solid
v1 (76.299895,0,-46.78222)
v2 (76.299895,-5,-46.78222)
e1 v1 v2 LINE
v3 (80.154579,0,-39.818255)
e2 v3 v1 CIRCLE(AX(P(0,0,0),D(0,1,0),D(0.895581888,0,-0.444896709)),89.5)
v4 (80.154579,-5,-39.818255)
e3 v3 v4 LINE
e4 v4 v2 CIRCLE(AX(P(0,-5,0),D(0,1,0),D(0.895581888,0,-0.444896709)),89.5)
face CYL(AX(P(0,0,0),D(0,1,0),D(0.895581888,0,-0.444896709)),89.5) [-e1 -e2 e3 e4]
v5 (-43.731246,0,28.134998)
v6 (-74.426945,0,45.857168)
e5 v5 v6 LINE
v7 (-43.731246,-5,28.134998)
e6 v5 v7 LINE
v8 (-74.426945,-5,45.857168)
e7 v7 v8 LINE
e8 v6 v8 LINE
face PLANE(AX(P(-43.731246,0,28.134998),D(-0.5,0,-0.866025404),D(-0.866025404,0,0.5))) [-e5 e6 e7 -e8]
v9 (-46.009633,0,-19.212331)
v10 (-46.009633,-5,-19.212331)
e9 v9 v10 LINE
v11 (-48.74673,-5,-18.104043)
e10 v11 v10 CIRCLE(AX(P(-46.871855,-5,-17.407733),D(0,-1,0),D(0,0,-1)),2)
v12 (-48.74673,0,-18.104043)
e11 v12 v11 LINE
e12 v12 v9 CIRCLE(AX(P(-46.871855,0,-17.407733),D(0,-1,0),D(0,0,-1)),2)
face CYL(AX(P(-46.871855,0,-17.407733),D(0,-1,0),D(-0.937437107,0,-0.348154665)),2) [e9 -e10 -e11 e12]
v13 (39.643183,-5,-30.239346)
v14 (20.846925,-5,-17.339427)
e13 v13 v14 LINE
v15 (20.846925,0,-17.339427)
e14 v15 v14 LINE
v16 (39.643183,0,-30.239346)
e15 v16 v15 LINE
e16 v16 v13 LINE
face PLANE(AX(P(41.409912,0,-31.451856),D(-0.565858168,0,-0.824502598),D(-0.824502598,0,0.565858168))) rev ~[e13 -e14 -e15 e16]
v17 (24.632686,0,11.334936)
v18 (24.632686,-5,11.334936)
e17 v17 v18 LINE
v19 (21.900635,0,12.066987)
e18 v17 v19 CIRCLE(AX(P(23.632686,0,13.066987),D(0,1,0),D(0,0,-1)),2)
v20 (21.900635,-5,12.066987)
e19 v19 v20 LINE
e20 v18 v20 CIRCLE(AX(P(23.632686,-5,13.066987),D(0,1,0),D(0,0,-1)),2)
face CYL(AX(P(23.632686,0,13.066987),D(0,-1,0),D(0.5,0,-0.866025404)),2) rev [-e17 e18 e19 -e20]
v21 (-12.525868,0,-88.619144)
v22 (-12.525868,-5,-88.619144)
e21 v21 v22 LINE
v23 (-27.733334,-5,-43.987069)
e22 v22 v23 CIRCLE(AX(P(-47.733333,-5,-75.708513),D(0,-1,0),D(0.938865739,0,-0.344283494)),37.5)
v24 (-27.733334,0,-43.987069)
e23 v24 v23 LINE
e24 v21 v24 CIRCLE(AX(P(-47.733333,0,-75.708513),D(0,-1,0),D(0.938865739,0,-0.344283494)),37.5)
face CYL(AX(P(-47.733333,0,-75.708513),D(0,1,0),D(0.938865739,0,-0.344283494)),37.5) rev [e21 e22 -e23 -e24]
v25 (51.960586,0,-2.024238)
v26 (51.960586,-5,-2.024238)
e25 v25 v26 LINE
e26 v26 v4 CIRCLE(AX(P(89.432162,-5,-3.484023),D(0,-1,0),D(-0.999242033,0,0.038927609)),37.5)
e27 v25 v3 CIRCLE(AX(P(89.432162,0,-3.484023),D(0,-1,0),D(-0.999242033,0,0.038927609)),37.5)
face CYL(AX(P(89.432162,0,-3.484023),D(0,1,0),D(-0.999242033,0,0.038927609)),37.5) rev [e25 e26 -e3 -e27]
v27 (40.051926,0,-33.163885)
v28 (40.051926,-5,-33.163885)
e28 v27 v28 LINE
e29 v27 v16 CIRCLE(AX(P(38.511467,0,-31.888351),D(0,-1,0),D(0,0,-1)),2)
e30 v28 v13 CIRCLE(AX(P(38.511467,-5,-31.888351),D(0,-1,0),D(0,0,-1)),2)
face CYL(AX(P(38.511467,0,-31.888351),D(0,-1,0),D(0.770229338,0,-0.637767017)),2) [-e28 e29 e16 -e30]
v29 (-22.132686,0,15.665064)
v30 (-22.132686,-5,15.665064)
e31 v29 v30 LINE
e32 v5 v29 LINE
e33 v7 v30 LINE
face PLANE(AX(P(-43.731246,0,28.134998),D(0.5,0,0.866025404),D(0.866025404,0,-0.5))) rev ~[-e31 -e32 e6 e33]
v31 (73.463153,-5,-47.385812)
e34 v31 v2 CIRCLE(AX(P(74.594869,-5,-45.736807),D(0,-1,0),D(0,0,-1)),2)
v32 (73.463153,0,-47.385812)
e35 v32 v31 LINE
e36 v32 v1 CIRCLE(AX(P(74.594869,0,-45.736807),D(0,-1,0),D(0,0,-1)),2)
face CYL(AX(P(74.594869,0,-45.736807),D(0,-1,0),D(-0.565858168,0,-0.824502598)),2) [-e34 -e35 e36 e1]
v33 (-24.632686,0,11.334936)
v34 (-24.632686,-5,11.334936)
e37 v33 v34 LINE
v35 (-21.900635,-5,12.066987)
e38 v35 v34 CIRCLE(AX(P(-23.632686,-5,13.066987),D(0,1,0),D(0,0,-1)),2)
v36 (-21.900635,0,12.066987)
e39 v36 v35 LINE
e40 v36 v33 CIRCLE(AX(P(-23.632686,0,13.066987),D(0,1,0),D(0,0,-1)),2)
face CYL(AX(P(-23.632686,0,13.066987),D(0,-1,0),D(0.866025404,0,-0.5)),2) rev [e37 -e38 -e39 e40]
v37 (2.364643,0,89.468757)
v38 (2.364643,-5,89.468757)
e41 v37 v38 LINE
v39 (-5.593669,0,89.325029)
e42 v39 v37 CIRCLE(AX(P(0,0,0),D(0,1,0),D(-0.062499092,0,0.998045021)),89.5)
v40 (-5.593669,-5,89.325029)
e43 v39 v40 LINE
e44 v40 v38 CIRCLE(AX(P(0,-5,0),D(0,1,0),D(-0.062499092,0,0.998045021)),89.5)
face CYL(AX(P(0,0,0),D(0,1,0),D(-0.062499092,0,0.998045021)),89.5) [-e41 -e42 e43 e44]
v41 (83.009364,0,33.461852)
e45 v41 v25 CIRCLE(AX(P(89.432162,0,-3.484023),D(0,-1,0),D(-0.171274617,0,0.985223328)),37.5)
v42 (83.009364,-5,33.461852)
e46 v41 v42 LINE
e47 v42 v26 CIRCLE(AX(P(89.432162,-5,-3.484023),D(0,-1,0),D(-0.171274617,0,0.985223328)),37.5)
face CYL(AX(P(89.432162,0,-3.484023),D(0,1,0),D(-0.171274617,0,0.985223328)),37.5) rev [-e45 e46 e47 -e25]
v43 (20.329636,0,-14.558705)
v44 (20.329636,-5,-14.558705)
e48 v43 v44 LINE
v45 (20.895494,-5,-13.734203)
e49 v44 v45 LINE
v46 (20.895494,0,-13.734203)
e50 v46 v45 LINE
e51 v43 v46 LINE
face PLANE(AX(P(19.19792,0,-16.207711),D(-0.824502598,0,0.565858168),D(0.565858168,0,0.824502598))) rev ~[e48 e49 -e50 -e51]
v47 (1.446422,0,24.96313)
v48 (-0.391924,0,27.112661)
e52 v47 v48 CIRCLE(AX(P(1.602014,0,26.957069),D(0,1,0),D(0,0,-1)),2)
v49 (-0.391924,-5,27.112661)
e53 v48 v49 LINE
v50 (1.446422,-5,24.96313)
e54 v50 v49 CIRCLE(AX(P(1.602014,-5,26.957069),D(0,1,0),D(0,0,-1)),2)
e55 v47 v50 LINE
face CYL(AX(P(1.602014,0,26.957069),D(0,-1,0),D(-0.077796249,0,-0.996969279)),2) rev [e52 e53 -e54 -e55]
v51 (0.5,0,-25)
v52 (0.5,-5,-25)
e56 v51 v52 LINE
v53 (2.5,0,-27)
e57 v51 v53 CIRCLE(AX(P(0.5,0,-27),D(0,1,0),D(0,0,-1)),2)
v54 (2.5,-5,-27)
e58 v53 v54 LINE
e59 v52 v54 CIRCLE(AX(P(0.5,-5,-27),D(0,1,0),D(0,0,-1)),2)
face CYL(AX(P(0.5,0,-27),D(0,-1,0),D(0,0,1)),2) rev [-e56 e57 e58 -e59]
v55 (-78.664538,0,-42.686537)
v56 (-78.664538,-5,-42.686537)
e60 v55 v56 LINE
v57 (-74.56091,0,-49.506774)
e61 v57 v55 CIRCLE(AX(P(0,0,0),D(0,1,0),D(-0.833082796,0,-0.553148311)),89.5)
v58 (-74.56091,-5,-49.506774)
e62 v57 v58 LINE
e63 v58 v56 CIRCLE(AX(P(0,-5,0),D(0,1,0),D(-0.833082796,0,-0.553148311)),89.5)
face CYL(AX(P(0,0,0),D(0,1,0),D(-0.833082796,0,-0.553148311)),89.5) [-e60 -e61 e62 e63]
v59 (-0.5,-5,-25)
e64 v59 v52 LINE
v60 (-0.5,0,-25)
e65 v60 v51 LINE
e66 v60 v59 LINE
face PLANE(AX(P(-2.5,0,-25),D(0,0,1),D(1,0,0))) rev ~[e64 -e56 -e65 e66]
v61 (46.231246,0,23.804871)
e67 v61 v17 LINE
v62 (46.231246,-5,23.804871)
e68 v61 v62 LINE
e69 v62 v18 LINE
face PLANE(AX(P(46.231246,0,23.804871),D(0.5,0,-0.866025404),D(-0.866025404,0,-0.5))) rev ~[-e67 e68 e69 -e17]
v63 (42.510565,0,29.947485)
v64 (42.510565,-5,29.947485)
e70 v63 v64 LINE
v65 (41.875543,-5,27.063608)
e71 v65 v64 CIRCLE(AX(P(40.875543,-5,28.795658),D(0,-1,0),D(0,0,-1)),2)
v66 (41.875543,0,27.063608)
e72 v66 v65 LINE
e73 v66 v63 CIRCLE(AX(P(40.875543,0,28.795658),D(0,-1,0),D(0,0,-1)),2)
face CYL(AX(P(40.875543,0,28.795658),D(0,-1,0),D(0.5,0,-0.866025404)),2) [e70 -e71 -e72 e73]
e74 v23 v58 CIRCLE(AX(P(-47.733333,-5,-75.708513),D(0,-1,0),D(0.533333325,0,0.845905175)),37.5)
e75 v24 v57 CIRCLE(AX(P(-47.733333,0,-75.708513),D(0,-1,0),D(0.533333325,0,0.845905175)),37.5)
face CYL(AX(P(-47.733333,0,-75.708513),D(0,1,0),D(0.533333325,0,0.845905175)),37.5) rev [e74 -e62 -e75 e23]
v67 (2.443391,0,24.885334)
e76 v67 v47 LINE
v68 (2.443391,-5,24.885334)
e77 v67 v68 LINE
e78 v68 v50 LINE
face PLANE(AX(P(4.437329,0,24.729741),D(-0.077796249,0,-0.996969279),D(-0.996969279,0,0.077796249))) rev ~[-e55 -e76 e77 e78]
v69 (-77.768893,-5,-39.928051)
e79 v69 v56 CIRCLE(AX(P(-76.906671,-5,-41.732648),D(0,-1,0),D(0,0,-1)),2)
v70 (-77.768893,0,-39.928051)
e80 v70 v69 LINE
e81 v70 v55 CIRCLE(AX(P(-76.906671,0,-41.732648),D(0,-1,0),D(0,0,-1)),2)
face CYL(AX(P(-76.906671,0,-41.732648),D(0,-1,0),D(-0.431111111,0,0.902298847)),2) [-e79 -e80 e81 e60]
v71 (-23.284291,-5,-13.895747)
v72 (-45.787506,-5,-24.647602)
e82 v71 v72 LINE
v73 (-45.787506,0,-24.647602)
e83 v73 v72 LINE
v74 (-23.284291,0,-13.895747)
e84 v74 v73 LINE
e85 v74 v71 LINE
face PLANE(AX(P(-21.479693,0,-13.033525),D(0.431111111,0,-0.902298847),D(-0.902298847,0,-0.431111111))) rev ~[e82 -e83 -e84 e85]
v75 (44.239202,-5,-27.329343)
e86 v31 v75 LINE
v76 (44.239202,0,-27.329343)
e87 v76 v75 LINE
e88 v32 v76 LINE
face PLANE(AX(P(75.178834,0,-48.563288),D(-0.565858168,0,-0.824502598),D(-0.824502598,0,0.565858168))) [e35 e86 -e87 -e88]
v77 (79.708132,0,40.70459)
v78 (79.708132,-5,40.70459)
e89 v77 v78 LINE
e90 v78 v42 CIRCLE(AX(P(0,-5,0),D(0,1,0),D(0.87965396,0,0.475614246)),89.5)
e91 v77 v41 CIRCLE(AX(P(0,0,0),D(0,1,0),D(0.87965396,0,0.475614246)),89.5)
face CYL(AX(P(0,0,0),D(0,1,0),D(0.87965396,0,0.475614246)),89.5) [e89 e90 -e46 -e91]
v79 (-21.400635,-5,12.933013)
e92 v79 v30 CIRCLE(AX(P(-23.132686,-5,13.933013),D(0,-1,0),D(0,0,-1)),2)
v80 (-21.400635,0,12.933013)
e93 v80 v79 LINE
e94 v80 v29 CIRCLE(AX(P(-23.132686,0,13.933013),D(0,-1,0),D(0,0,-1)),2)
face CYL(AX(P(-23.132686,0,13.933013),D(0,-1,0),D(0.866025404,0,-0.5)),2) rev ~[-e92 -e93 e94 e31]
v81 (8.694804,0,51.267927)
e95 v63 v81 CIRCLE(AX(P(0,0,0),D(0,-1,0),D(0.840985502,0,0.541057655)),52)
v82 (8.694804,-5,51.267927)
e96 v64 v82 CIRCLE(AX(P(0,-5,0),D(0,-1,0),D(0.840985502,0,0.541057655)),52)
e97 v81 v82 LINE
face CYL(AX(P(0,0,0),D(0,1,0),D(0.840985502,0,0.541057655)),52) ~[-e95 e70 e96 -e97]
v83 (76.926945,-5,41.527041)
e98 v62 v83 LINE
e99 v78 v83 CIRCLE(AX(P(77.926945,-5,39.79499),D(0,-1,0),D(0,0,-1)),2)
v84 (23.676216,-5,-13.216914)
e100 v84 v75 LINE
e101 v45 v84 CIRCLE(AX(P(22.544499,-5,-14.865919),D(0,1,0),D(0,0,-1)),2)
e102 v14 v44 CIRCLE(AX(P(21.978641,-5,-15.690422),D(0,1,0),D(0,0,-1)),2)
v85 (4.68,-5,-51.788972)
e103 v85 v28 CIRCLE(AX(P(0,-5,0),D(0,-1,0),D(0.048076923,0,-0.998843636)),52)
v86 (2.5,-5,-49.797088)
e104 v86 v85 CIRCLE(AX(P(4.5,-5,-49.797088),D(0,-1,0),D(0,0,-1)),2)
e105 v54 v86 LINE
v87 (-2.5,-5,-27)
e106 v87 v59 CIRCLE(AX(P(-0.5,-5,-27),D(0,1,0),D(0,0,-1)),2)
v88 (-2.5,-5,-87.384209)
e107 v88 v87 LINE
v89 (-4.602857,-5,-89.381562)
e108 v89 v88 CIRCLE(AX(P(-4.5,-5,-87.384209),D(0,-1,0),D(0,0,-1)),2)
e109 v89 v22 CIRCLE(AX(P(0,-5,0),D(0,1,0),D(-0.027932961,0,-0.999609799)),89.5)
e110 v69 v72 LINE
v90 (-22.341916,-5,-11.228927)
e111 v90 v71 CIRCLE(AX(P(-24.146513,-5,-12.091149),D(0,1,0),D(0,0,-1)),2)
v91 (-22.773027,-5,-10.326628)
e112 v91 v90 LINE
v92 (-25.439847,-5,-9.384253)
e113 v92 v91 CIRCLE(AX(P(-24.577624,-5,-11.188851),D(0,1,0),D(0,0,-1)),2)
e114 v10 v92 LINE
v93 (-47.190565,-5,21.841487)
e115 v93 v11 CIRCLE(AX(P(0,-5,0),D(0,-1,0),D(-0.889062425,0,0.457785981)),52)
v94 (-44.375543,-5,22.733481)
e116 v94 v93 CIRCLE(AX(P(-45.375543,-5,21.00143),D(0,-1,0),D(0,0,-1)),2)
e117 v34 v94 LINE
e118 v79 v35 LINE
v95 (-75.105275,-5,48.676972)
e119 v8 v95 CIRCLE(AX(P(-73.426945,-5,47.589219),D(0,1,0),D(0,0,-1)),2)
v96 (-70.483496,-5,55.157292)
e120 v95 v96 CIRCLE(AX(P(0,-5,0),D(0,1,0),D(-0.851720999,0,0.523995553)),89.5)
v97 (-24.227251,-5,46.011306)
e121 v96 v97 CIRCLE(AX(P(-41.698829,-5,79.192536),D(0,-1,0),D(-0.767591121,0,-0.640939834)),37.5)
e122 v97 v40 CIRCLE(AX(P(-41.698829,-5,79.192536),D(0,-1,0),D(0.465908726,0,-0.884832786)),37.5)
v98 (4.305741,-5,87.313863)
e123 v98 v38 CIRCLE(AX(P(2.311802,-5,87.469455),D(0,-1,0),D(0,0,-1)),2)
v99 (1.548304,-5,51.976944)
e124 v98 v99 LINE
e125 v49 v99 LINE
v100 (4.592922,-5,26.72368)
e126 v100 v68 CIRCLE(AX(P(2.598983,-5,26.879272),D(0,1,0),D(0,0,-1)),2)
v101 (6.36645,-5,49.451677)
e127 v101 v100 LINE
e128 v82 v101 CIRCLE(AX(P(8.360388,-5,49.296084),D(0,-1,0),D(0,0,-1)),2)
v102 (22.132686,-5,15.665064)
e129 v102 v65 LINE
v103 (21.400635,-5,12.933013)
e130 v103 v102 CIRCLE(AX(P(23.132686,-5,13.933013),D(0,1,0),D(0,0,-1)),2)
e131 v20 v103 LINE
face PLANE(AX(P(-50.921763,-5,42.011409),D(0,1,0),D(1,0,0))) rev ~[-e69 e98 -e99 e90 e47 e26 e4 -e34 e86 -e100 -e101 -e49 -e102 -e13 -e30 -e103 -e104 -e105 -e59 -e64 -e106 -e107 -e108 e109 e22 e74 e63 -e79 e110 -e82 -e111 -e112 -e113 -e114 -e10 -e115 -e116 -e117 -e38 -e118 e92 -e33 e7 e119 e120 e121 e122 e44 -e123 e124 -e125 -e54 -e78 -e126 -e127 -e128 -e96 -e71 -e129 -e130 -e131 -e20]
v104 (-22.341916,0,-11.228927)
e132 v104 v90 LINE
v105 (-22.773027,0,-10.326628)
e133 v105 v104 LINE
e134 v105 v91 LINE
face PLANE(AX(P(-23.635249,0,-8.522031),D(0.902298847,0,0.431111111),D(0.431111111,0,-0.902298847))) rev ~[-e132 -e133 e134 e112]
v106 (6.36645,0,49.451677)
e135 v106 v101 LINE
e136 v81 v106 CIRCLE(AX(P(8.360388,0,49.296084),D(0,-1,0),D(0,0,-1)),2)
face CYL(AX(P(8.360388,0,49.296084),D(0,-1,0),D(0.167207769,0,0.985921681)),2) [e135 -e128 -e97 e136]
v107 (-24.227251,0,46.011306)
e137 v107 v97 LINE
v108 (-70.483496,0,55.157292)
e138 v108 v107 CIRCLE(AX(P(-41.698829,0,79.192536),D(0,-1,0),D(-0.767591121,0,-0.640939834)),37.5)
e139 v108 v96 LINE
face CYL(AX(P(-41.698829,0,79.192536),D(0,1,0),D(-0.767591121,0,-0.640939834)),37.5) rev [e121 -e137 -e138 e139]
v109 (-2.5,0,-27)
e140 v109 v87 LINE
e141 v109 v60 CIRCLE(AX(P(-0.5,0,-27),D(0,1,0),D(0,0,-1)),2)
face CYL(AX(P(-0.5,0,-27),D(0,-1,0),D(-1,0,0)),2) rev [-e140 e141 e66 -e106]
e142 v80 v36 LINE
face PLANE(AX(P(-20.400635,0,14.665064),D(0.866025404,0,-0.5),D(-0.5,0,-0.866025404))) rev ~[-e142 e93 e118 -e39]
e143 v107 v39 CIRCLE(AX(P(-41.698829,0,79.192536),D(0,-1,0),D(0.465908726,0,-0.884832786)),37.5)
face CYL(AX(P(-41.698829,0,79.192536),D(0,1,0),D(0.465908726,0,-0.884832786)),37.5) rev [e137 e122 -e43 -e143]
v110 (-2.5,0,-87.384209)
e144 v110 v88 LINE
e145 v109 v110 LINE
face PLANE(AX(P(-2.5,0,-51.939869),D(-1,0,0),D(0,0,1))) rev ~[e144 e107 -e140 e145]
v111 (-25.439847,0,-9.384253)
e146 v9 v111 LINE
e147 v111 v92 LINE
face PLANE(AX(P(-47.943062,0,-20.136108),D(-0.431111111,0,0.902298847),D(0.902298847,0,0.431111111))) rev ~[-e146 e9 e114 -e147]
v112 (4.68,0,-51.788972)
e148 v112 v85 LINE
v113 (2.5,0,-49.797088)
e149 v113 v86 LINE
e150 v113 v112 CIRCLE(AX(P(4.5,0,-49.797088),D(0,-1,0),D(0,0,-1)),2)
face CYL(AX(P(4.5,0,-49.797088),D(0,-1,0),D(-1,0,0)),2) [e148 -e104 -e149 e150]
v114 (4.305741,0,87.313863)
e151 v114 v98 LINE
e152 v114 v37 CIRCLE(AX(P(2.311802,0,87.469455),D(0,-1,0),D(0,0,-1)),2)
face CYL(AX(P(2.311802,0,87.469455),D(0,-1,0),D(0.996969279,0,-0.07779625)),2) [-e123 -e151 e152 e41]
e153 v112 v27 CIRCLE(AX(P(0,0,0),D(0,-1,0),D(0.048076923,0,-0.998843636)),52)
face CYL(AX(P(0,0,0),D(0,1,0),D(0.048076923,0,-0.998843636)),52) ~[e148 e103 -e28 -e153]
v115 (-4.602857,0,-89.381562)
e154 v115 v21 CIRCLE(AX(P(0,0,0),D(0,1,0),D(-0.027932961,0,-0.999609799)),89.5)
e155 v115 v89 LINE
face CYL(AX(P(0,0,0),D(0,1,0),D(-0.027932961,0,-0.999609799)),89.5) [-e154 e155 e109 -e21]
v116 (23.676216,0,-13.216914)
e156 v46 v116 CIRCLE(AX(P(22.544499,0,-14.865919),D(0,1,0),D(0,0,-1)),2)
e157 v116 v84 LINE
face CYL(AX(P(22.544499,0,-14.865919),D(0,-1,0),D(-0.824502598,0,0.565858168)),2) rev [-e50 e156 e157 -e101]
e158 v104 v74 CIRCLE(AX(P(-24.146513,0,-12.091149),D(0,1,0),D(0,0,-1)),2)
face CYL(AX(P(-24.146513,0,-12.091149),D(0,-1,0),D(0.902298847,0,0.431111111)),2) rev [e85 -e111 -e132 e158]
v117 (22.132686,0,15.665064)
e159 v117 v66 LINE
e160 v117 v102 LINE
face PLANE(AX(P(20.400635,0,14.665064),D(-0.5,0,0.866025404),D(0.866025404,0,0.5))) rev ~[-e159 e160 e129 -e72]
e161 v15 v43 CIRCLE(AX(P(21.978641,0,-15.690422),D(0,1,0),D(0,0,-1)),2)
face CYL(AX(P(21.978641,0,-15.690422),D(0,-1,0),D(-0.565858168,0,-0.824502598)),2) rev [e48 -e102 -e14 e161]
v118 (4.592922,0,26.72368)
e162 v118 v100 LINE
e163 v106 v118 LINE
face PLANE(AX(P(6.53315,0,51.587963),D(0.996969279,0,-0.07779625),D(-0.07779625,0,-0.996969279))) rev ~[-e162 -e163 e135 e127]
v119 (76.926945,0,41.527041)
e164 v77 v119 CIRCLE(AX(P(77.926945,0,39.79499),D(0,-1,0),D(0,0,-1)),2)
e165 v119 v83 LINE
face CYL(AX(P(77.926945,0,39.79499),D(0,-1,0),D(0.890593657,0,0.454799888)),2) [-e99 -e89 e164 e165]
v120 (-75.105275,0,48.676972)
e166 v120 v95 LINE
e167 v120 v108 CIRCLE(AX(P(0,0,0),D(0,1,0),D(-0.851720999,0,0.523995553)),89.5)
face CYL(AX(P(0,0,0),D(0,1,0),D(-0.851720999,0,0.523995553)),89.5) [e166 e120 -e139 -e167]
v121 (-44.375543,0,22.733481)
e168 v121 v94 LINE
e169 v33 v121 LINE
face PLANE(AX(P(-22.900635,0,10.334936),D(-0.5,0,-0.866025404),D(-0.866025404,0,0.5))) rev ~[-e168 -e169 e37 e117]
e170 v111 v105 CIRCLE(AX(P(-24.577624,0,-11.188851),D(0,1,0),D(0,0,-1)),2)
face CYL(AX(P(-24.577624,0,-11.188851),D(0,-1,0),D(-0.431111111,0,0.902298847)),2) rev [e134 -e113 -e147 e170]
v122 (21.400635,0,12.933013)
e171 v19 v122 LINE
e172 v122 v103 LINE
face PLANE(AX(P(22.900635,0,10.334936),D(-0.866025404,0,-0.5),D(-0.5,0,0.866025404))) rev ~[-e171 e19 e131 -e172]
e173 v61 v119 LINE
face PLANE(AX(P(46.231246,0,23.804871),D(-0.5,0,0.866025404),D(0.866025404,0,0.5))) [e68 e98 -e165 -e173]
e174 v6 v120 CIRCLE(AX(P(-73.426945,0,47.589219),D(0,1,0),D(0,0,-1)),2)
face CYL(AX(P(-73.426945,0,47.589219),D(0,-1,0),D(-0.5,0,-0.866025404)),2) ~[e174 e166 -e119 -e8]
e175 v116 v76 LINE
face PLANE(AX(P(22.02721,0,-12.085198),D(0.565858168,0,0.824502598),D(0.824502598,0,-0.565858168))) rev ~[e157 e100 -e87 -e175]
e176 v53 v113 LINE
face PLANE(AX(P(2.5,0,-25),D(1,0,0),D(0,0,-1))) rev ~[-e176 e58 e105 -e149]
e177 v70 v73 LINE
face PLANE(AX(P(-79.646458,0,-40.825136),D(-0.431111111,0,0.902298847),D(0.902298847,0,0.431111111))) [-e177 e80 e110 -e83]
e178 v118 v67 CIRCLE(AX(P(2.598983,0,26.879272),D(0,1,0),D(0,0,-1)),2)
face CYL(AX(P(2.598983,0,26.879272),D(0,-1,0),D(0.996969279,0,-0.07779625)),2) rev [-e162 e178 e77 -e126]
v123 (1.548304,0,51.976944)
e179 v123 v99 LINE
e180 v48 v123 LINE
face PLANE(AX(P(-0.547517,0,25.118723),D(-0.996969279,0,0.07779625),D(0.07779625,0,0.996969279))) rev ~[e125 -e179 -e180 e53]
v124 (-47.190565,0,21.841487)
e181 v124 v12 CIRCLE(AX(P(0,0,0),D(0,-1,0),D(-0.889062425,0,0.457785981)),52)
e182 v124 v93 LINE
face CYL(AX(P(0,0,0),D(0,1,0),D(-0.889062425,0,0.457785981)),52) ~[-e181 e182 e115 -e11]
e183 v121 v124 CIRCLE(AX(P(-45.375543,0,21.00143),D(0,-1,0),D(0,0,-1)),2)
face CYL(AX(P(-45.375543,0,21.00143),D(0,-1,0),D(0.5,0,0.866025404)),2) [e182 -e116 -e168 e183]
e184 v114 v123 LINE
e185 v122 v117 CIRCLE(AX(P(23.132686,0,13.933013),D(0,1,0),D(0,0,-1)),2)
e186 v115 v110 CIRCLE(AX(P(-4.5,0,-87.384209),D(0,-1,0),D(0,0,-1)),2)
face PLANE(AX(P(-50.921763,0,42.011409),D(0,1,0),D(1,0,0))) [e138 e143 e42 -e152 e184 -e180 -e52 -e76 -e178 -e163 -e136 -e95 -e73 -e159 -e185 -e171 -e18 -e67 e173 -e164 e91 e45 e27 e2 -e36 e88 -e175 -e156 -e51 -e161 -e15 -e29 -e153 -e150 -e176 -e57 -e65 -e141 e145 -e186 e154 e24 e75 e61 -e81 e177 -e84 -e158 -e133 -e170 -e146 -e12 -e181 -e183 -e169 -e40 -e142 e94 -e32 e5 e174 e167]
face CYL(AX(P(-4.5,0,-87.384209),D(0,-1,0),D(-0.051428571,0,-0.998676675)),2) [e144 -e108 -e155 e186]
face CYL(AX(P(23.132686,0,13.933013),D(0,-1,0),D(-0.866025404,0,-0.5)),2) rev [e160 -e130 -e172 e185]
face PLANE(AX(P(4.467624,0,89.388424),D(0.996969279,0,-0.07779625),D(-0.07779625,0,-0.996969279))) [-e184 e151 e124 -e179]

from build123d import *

# Parameters (mm, degrees)
EXTRUDE_1_DEPTH = 5
EXTRUDE_2_DEPTH = 5
FILLET_1_R      = 2


with BuildPart() as part:
    # 草圖1 → 填料-伸長1 (new body)
    with BuildSketch(Plane(origin=(0, 0, 0), x_dir=(1, 0, 0), z_dir=(0, 1, 0))):
        with BuildLine():
            Line((46.231246092, -23.80487103), (22.900635095, -10.334936491))
            Line((22.900635095, -10.334936491), (20.400635095, -14.665063509))
            Line((20.400635095, -14.665063509), (43.731246092, -28.134998049))
            ThreePointArc((43.731246092, -28.134998049), (27.733333333, -43.987068807), (6.533150216, -51.587963211))
            Line((6.533150216, -51.587963211), (4.437329437, -24.729741355))
            Line((4.437329437, -24.729741355), (-0.547516958, -25.118722602))
            Line((-0.547516958, -25.118722602), (1.54830382, -51.976944459))
            ThreePointArc((1.54830382, -51.976944459), (-24.227252358, -46.011305602), (-43.731246092, -28.134998049))
            Line((-43.731246092, -28.134998049), (-20.400635095, -14.665063509))
            Line((-20.400635095, -14.665063509), (-22.900635095, -10.334936491))
            Line((-22.900635095, -10.334936491), (-46.231246092, -23.80487103))
            ThreePointArc((-46.231246092, -23.80487103), (-51.960585691, -2.024236795), (-47.943061778, 20.136107552))
            Line((-47.943061778, 20.136107552), (-23.635248961, 8.522030659))
            Line((-23.635248961, 8.522030659), (-21.479693405, 13.033524896))
            Line((-21.479693405, 13.033524896), (-45.787506223, 24.647601788))
            ThreePointArc((-45.787506223, 24.647601788), (-27.733333333, 43.987068807), (-2.5, 51.93986908))
            Line((-2.5, 51.93986908), (-2.5, 25))
            Line((-2.5, 25), (2.5, 25))
            Line((2.5, 25), (2.5, 51.93986908))
            ThreePointArc((2.5, 51.93986908), (24.227252358, 46.011305602), (41.409911562, 31.451855659))
            Line((41.409911562, 31.451855659), (19.197919523, 16.207710695))
            Line((19.197919523, 16.207710695), (22.027210363, 12.085197706))
            Line((22.027210363, 12.085197706), (44.239202402, 27.329342671))
            ThreePointArc((44.239202402, 27.329342671), (51.960585691, 2.024236795), (46.231246092, -23.80487103))
        make_face()
    extrude(amount=-EXTRUDE_1_DEPTH)

    # 草圖2 → 填料-伸長2 (add)
    with BuildSketch(Plane(origin=(0, 0, 0), x_dir=(1, 0, 0), z_dir=(0, 1, 0))):
        with BuildLine():
            ThreePointArc((-24.227251363, -46.011306126), (-35.135166738, -38.334319588), (-43.731246092, -28.134998049))
            Line((-43.731246092, -28.134998049), (-76.229029421, -46.897602002))
            ThreePointArc((-76.229029421, -46.897602002), (-73.47242252, -51.10824913), (-70.483495632, -55.157291843))
            ThreePointArc((-70.483495632, -55.157291843), (-48.972669662, -42.404749099), (-24.227251363, -46.011306126))
        make_face()
        with BuildLine():
            ThreePointArc((1.54830382, -51.976944459), (-11.725223904, -50.660824356), (-24.227251363, -46.011306126))
            ThreePointArc((-24.227251363, -46.011306126), (-7.251240205, -64.373168028), (-5.593668694, -89.325029362))
            ThreePointArc((-5.593668694, -89.325029362), (-0.563913765, -89.498223453), (4.46762426, -89.388423934))
            Line((4.46762426, -89.388423934), (1.54830382, -51.976944459))
        make_face()
        with BuildLine():
            ThreePointArc((51.96058566, 2.024237611), (50.766077936, -11.260787317), (46.231246092, -23.80487103))
            Line((46.231246092, -23.80487103), (78.729029421, -42.567474983))
            ThreePointArc((78.729029421, -42.567474983), (80.997253349, -38.074859815), (83.009363756, -33.461851843))
            ThreePointArc((83.009363756, -33.461851843), (61.209924893, -21.209201585), (51.96058566, 2.024237611))
        make_face()
        with BuildLine():
            ThreePointArc((44.239202402, 27.329342671), (49.736172865, 15.176070265), (51.96058566, 2.024237611))
            ThreePointArc((51.96058566, 2.024237611), (59.374418845, 25.906825664), (80.154578969, 39.818255491))
            ThreePointArc((80.154578969, 39.818255491), (77.789691987, 44.26074808), (75.178833801, 48.563288071))
            Line((75.178833801, 48.563288071), (44.239202402, 27.329342671))
        make_face()
        with BuildLine():
            ThreePointArc((-27.733333643, 43.987068612), (-15.63091087, 49.595106869), (-2.5, 51.93986908))
            Line((-2.5, 51.93986908), (-2.5, 89.465076985))
            ThreePointArc((-2.5, 89.465076985), (-7.524830829, 89.183108944), (-12.525868124, 88.619143687))
            ThreePointArc((-12.525868124, 88.619143687), (-12.237255007, 63.613950927), (-27.733333643, 43.987068612))
        make_face()
        with BuildLine():
            ThreePointArc((-45.787506223, 24.647601788), (-38.010948658, 35.484754221), (-27.733333643, 43.987068612))
            ThreePointArc((-27.733333643, 43.987068612), (-52.123178355, 38.466342196), (-74.560910274, 49.506773871))
            ThreePointArc((-74.560910274, 49.506773871), (-77.225778221, 45.237475373), (-79.646458062, 40.825135863))
            Line((-79.646458062, 40.825135863), (-45.787506223, 24.647601788))
        make_face()
    extrude(amount=-EXTRUDE_2_DEPTH)

    # 圓角1
    fillet_1_edges = [part.edges().sort_by_distance(p)[0] for p in [
        (75.178833801, -2.5, -48.563288071),
        (-2.5, -2.5, -89.465076985),
        (-79.646458062, -2.5, -40.825135863),
        (4.437329437, -2.5, 24.729741355),
        (-0.547516958, -2.5, 25.118722602),
        (-20.400635095, -2.5, 14.665063509),
        (-22.900635095, -2.5, 10.334936491),
        (-46.231246092, -2.5, 23.80487103),
        (-47.943061778, -2.5, -20.136107552),
        (-23.635248961, -2.5, -8.522030659),
        (-21.479693405, -2.5, -13.033524896),
        (-2.5, -2.5, -25),
        (2.5, -2.5, -25),
        (2.5, -2.5, -51.93986908),
        (41.409911562, -2.5, -31.451855659),
        (19.197919523, -2.5, -16.207710695),
        (22.027210363, -2.5, -12.085197706),
        (22.900635095, -2.5, 10.334936491),
        (20.400635095, -2.5, 14.665063509),
        (43.731246092, -2.5, 28.134998049),
        (6.533150216, -2.5, 51.587963211),
        (-76.229029421, -2.5, 46.897602002),
        (4.46762426, -2.5, 89.388423934),
        (78.729029421, -2.5, 42.567474983),
    ]]
    fillet(fillet_1_edges, radius=FILLET_1_R)


solid = part.part
